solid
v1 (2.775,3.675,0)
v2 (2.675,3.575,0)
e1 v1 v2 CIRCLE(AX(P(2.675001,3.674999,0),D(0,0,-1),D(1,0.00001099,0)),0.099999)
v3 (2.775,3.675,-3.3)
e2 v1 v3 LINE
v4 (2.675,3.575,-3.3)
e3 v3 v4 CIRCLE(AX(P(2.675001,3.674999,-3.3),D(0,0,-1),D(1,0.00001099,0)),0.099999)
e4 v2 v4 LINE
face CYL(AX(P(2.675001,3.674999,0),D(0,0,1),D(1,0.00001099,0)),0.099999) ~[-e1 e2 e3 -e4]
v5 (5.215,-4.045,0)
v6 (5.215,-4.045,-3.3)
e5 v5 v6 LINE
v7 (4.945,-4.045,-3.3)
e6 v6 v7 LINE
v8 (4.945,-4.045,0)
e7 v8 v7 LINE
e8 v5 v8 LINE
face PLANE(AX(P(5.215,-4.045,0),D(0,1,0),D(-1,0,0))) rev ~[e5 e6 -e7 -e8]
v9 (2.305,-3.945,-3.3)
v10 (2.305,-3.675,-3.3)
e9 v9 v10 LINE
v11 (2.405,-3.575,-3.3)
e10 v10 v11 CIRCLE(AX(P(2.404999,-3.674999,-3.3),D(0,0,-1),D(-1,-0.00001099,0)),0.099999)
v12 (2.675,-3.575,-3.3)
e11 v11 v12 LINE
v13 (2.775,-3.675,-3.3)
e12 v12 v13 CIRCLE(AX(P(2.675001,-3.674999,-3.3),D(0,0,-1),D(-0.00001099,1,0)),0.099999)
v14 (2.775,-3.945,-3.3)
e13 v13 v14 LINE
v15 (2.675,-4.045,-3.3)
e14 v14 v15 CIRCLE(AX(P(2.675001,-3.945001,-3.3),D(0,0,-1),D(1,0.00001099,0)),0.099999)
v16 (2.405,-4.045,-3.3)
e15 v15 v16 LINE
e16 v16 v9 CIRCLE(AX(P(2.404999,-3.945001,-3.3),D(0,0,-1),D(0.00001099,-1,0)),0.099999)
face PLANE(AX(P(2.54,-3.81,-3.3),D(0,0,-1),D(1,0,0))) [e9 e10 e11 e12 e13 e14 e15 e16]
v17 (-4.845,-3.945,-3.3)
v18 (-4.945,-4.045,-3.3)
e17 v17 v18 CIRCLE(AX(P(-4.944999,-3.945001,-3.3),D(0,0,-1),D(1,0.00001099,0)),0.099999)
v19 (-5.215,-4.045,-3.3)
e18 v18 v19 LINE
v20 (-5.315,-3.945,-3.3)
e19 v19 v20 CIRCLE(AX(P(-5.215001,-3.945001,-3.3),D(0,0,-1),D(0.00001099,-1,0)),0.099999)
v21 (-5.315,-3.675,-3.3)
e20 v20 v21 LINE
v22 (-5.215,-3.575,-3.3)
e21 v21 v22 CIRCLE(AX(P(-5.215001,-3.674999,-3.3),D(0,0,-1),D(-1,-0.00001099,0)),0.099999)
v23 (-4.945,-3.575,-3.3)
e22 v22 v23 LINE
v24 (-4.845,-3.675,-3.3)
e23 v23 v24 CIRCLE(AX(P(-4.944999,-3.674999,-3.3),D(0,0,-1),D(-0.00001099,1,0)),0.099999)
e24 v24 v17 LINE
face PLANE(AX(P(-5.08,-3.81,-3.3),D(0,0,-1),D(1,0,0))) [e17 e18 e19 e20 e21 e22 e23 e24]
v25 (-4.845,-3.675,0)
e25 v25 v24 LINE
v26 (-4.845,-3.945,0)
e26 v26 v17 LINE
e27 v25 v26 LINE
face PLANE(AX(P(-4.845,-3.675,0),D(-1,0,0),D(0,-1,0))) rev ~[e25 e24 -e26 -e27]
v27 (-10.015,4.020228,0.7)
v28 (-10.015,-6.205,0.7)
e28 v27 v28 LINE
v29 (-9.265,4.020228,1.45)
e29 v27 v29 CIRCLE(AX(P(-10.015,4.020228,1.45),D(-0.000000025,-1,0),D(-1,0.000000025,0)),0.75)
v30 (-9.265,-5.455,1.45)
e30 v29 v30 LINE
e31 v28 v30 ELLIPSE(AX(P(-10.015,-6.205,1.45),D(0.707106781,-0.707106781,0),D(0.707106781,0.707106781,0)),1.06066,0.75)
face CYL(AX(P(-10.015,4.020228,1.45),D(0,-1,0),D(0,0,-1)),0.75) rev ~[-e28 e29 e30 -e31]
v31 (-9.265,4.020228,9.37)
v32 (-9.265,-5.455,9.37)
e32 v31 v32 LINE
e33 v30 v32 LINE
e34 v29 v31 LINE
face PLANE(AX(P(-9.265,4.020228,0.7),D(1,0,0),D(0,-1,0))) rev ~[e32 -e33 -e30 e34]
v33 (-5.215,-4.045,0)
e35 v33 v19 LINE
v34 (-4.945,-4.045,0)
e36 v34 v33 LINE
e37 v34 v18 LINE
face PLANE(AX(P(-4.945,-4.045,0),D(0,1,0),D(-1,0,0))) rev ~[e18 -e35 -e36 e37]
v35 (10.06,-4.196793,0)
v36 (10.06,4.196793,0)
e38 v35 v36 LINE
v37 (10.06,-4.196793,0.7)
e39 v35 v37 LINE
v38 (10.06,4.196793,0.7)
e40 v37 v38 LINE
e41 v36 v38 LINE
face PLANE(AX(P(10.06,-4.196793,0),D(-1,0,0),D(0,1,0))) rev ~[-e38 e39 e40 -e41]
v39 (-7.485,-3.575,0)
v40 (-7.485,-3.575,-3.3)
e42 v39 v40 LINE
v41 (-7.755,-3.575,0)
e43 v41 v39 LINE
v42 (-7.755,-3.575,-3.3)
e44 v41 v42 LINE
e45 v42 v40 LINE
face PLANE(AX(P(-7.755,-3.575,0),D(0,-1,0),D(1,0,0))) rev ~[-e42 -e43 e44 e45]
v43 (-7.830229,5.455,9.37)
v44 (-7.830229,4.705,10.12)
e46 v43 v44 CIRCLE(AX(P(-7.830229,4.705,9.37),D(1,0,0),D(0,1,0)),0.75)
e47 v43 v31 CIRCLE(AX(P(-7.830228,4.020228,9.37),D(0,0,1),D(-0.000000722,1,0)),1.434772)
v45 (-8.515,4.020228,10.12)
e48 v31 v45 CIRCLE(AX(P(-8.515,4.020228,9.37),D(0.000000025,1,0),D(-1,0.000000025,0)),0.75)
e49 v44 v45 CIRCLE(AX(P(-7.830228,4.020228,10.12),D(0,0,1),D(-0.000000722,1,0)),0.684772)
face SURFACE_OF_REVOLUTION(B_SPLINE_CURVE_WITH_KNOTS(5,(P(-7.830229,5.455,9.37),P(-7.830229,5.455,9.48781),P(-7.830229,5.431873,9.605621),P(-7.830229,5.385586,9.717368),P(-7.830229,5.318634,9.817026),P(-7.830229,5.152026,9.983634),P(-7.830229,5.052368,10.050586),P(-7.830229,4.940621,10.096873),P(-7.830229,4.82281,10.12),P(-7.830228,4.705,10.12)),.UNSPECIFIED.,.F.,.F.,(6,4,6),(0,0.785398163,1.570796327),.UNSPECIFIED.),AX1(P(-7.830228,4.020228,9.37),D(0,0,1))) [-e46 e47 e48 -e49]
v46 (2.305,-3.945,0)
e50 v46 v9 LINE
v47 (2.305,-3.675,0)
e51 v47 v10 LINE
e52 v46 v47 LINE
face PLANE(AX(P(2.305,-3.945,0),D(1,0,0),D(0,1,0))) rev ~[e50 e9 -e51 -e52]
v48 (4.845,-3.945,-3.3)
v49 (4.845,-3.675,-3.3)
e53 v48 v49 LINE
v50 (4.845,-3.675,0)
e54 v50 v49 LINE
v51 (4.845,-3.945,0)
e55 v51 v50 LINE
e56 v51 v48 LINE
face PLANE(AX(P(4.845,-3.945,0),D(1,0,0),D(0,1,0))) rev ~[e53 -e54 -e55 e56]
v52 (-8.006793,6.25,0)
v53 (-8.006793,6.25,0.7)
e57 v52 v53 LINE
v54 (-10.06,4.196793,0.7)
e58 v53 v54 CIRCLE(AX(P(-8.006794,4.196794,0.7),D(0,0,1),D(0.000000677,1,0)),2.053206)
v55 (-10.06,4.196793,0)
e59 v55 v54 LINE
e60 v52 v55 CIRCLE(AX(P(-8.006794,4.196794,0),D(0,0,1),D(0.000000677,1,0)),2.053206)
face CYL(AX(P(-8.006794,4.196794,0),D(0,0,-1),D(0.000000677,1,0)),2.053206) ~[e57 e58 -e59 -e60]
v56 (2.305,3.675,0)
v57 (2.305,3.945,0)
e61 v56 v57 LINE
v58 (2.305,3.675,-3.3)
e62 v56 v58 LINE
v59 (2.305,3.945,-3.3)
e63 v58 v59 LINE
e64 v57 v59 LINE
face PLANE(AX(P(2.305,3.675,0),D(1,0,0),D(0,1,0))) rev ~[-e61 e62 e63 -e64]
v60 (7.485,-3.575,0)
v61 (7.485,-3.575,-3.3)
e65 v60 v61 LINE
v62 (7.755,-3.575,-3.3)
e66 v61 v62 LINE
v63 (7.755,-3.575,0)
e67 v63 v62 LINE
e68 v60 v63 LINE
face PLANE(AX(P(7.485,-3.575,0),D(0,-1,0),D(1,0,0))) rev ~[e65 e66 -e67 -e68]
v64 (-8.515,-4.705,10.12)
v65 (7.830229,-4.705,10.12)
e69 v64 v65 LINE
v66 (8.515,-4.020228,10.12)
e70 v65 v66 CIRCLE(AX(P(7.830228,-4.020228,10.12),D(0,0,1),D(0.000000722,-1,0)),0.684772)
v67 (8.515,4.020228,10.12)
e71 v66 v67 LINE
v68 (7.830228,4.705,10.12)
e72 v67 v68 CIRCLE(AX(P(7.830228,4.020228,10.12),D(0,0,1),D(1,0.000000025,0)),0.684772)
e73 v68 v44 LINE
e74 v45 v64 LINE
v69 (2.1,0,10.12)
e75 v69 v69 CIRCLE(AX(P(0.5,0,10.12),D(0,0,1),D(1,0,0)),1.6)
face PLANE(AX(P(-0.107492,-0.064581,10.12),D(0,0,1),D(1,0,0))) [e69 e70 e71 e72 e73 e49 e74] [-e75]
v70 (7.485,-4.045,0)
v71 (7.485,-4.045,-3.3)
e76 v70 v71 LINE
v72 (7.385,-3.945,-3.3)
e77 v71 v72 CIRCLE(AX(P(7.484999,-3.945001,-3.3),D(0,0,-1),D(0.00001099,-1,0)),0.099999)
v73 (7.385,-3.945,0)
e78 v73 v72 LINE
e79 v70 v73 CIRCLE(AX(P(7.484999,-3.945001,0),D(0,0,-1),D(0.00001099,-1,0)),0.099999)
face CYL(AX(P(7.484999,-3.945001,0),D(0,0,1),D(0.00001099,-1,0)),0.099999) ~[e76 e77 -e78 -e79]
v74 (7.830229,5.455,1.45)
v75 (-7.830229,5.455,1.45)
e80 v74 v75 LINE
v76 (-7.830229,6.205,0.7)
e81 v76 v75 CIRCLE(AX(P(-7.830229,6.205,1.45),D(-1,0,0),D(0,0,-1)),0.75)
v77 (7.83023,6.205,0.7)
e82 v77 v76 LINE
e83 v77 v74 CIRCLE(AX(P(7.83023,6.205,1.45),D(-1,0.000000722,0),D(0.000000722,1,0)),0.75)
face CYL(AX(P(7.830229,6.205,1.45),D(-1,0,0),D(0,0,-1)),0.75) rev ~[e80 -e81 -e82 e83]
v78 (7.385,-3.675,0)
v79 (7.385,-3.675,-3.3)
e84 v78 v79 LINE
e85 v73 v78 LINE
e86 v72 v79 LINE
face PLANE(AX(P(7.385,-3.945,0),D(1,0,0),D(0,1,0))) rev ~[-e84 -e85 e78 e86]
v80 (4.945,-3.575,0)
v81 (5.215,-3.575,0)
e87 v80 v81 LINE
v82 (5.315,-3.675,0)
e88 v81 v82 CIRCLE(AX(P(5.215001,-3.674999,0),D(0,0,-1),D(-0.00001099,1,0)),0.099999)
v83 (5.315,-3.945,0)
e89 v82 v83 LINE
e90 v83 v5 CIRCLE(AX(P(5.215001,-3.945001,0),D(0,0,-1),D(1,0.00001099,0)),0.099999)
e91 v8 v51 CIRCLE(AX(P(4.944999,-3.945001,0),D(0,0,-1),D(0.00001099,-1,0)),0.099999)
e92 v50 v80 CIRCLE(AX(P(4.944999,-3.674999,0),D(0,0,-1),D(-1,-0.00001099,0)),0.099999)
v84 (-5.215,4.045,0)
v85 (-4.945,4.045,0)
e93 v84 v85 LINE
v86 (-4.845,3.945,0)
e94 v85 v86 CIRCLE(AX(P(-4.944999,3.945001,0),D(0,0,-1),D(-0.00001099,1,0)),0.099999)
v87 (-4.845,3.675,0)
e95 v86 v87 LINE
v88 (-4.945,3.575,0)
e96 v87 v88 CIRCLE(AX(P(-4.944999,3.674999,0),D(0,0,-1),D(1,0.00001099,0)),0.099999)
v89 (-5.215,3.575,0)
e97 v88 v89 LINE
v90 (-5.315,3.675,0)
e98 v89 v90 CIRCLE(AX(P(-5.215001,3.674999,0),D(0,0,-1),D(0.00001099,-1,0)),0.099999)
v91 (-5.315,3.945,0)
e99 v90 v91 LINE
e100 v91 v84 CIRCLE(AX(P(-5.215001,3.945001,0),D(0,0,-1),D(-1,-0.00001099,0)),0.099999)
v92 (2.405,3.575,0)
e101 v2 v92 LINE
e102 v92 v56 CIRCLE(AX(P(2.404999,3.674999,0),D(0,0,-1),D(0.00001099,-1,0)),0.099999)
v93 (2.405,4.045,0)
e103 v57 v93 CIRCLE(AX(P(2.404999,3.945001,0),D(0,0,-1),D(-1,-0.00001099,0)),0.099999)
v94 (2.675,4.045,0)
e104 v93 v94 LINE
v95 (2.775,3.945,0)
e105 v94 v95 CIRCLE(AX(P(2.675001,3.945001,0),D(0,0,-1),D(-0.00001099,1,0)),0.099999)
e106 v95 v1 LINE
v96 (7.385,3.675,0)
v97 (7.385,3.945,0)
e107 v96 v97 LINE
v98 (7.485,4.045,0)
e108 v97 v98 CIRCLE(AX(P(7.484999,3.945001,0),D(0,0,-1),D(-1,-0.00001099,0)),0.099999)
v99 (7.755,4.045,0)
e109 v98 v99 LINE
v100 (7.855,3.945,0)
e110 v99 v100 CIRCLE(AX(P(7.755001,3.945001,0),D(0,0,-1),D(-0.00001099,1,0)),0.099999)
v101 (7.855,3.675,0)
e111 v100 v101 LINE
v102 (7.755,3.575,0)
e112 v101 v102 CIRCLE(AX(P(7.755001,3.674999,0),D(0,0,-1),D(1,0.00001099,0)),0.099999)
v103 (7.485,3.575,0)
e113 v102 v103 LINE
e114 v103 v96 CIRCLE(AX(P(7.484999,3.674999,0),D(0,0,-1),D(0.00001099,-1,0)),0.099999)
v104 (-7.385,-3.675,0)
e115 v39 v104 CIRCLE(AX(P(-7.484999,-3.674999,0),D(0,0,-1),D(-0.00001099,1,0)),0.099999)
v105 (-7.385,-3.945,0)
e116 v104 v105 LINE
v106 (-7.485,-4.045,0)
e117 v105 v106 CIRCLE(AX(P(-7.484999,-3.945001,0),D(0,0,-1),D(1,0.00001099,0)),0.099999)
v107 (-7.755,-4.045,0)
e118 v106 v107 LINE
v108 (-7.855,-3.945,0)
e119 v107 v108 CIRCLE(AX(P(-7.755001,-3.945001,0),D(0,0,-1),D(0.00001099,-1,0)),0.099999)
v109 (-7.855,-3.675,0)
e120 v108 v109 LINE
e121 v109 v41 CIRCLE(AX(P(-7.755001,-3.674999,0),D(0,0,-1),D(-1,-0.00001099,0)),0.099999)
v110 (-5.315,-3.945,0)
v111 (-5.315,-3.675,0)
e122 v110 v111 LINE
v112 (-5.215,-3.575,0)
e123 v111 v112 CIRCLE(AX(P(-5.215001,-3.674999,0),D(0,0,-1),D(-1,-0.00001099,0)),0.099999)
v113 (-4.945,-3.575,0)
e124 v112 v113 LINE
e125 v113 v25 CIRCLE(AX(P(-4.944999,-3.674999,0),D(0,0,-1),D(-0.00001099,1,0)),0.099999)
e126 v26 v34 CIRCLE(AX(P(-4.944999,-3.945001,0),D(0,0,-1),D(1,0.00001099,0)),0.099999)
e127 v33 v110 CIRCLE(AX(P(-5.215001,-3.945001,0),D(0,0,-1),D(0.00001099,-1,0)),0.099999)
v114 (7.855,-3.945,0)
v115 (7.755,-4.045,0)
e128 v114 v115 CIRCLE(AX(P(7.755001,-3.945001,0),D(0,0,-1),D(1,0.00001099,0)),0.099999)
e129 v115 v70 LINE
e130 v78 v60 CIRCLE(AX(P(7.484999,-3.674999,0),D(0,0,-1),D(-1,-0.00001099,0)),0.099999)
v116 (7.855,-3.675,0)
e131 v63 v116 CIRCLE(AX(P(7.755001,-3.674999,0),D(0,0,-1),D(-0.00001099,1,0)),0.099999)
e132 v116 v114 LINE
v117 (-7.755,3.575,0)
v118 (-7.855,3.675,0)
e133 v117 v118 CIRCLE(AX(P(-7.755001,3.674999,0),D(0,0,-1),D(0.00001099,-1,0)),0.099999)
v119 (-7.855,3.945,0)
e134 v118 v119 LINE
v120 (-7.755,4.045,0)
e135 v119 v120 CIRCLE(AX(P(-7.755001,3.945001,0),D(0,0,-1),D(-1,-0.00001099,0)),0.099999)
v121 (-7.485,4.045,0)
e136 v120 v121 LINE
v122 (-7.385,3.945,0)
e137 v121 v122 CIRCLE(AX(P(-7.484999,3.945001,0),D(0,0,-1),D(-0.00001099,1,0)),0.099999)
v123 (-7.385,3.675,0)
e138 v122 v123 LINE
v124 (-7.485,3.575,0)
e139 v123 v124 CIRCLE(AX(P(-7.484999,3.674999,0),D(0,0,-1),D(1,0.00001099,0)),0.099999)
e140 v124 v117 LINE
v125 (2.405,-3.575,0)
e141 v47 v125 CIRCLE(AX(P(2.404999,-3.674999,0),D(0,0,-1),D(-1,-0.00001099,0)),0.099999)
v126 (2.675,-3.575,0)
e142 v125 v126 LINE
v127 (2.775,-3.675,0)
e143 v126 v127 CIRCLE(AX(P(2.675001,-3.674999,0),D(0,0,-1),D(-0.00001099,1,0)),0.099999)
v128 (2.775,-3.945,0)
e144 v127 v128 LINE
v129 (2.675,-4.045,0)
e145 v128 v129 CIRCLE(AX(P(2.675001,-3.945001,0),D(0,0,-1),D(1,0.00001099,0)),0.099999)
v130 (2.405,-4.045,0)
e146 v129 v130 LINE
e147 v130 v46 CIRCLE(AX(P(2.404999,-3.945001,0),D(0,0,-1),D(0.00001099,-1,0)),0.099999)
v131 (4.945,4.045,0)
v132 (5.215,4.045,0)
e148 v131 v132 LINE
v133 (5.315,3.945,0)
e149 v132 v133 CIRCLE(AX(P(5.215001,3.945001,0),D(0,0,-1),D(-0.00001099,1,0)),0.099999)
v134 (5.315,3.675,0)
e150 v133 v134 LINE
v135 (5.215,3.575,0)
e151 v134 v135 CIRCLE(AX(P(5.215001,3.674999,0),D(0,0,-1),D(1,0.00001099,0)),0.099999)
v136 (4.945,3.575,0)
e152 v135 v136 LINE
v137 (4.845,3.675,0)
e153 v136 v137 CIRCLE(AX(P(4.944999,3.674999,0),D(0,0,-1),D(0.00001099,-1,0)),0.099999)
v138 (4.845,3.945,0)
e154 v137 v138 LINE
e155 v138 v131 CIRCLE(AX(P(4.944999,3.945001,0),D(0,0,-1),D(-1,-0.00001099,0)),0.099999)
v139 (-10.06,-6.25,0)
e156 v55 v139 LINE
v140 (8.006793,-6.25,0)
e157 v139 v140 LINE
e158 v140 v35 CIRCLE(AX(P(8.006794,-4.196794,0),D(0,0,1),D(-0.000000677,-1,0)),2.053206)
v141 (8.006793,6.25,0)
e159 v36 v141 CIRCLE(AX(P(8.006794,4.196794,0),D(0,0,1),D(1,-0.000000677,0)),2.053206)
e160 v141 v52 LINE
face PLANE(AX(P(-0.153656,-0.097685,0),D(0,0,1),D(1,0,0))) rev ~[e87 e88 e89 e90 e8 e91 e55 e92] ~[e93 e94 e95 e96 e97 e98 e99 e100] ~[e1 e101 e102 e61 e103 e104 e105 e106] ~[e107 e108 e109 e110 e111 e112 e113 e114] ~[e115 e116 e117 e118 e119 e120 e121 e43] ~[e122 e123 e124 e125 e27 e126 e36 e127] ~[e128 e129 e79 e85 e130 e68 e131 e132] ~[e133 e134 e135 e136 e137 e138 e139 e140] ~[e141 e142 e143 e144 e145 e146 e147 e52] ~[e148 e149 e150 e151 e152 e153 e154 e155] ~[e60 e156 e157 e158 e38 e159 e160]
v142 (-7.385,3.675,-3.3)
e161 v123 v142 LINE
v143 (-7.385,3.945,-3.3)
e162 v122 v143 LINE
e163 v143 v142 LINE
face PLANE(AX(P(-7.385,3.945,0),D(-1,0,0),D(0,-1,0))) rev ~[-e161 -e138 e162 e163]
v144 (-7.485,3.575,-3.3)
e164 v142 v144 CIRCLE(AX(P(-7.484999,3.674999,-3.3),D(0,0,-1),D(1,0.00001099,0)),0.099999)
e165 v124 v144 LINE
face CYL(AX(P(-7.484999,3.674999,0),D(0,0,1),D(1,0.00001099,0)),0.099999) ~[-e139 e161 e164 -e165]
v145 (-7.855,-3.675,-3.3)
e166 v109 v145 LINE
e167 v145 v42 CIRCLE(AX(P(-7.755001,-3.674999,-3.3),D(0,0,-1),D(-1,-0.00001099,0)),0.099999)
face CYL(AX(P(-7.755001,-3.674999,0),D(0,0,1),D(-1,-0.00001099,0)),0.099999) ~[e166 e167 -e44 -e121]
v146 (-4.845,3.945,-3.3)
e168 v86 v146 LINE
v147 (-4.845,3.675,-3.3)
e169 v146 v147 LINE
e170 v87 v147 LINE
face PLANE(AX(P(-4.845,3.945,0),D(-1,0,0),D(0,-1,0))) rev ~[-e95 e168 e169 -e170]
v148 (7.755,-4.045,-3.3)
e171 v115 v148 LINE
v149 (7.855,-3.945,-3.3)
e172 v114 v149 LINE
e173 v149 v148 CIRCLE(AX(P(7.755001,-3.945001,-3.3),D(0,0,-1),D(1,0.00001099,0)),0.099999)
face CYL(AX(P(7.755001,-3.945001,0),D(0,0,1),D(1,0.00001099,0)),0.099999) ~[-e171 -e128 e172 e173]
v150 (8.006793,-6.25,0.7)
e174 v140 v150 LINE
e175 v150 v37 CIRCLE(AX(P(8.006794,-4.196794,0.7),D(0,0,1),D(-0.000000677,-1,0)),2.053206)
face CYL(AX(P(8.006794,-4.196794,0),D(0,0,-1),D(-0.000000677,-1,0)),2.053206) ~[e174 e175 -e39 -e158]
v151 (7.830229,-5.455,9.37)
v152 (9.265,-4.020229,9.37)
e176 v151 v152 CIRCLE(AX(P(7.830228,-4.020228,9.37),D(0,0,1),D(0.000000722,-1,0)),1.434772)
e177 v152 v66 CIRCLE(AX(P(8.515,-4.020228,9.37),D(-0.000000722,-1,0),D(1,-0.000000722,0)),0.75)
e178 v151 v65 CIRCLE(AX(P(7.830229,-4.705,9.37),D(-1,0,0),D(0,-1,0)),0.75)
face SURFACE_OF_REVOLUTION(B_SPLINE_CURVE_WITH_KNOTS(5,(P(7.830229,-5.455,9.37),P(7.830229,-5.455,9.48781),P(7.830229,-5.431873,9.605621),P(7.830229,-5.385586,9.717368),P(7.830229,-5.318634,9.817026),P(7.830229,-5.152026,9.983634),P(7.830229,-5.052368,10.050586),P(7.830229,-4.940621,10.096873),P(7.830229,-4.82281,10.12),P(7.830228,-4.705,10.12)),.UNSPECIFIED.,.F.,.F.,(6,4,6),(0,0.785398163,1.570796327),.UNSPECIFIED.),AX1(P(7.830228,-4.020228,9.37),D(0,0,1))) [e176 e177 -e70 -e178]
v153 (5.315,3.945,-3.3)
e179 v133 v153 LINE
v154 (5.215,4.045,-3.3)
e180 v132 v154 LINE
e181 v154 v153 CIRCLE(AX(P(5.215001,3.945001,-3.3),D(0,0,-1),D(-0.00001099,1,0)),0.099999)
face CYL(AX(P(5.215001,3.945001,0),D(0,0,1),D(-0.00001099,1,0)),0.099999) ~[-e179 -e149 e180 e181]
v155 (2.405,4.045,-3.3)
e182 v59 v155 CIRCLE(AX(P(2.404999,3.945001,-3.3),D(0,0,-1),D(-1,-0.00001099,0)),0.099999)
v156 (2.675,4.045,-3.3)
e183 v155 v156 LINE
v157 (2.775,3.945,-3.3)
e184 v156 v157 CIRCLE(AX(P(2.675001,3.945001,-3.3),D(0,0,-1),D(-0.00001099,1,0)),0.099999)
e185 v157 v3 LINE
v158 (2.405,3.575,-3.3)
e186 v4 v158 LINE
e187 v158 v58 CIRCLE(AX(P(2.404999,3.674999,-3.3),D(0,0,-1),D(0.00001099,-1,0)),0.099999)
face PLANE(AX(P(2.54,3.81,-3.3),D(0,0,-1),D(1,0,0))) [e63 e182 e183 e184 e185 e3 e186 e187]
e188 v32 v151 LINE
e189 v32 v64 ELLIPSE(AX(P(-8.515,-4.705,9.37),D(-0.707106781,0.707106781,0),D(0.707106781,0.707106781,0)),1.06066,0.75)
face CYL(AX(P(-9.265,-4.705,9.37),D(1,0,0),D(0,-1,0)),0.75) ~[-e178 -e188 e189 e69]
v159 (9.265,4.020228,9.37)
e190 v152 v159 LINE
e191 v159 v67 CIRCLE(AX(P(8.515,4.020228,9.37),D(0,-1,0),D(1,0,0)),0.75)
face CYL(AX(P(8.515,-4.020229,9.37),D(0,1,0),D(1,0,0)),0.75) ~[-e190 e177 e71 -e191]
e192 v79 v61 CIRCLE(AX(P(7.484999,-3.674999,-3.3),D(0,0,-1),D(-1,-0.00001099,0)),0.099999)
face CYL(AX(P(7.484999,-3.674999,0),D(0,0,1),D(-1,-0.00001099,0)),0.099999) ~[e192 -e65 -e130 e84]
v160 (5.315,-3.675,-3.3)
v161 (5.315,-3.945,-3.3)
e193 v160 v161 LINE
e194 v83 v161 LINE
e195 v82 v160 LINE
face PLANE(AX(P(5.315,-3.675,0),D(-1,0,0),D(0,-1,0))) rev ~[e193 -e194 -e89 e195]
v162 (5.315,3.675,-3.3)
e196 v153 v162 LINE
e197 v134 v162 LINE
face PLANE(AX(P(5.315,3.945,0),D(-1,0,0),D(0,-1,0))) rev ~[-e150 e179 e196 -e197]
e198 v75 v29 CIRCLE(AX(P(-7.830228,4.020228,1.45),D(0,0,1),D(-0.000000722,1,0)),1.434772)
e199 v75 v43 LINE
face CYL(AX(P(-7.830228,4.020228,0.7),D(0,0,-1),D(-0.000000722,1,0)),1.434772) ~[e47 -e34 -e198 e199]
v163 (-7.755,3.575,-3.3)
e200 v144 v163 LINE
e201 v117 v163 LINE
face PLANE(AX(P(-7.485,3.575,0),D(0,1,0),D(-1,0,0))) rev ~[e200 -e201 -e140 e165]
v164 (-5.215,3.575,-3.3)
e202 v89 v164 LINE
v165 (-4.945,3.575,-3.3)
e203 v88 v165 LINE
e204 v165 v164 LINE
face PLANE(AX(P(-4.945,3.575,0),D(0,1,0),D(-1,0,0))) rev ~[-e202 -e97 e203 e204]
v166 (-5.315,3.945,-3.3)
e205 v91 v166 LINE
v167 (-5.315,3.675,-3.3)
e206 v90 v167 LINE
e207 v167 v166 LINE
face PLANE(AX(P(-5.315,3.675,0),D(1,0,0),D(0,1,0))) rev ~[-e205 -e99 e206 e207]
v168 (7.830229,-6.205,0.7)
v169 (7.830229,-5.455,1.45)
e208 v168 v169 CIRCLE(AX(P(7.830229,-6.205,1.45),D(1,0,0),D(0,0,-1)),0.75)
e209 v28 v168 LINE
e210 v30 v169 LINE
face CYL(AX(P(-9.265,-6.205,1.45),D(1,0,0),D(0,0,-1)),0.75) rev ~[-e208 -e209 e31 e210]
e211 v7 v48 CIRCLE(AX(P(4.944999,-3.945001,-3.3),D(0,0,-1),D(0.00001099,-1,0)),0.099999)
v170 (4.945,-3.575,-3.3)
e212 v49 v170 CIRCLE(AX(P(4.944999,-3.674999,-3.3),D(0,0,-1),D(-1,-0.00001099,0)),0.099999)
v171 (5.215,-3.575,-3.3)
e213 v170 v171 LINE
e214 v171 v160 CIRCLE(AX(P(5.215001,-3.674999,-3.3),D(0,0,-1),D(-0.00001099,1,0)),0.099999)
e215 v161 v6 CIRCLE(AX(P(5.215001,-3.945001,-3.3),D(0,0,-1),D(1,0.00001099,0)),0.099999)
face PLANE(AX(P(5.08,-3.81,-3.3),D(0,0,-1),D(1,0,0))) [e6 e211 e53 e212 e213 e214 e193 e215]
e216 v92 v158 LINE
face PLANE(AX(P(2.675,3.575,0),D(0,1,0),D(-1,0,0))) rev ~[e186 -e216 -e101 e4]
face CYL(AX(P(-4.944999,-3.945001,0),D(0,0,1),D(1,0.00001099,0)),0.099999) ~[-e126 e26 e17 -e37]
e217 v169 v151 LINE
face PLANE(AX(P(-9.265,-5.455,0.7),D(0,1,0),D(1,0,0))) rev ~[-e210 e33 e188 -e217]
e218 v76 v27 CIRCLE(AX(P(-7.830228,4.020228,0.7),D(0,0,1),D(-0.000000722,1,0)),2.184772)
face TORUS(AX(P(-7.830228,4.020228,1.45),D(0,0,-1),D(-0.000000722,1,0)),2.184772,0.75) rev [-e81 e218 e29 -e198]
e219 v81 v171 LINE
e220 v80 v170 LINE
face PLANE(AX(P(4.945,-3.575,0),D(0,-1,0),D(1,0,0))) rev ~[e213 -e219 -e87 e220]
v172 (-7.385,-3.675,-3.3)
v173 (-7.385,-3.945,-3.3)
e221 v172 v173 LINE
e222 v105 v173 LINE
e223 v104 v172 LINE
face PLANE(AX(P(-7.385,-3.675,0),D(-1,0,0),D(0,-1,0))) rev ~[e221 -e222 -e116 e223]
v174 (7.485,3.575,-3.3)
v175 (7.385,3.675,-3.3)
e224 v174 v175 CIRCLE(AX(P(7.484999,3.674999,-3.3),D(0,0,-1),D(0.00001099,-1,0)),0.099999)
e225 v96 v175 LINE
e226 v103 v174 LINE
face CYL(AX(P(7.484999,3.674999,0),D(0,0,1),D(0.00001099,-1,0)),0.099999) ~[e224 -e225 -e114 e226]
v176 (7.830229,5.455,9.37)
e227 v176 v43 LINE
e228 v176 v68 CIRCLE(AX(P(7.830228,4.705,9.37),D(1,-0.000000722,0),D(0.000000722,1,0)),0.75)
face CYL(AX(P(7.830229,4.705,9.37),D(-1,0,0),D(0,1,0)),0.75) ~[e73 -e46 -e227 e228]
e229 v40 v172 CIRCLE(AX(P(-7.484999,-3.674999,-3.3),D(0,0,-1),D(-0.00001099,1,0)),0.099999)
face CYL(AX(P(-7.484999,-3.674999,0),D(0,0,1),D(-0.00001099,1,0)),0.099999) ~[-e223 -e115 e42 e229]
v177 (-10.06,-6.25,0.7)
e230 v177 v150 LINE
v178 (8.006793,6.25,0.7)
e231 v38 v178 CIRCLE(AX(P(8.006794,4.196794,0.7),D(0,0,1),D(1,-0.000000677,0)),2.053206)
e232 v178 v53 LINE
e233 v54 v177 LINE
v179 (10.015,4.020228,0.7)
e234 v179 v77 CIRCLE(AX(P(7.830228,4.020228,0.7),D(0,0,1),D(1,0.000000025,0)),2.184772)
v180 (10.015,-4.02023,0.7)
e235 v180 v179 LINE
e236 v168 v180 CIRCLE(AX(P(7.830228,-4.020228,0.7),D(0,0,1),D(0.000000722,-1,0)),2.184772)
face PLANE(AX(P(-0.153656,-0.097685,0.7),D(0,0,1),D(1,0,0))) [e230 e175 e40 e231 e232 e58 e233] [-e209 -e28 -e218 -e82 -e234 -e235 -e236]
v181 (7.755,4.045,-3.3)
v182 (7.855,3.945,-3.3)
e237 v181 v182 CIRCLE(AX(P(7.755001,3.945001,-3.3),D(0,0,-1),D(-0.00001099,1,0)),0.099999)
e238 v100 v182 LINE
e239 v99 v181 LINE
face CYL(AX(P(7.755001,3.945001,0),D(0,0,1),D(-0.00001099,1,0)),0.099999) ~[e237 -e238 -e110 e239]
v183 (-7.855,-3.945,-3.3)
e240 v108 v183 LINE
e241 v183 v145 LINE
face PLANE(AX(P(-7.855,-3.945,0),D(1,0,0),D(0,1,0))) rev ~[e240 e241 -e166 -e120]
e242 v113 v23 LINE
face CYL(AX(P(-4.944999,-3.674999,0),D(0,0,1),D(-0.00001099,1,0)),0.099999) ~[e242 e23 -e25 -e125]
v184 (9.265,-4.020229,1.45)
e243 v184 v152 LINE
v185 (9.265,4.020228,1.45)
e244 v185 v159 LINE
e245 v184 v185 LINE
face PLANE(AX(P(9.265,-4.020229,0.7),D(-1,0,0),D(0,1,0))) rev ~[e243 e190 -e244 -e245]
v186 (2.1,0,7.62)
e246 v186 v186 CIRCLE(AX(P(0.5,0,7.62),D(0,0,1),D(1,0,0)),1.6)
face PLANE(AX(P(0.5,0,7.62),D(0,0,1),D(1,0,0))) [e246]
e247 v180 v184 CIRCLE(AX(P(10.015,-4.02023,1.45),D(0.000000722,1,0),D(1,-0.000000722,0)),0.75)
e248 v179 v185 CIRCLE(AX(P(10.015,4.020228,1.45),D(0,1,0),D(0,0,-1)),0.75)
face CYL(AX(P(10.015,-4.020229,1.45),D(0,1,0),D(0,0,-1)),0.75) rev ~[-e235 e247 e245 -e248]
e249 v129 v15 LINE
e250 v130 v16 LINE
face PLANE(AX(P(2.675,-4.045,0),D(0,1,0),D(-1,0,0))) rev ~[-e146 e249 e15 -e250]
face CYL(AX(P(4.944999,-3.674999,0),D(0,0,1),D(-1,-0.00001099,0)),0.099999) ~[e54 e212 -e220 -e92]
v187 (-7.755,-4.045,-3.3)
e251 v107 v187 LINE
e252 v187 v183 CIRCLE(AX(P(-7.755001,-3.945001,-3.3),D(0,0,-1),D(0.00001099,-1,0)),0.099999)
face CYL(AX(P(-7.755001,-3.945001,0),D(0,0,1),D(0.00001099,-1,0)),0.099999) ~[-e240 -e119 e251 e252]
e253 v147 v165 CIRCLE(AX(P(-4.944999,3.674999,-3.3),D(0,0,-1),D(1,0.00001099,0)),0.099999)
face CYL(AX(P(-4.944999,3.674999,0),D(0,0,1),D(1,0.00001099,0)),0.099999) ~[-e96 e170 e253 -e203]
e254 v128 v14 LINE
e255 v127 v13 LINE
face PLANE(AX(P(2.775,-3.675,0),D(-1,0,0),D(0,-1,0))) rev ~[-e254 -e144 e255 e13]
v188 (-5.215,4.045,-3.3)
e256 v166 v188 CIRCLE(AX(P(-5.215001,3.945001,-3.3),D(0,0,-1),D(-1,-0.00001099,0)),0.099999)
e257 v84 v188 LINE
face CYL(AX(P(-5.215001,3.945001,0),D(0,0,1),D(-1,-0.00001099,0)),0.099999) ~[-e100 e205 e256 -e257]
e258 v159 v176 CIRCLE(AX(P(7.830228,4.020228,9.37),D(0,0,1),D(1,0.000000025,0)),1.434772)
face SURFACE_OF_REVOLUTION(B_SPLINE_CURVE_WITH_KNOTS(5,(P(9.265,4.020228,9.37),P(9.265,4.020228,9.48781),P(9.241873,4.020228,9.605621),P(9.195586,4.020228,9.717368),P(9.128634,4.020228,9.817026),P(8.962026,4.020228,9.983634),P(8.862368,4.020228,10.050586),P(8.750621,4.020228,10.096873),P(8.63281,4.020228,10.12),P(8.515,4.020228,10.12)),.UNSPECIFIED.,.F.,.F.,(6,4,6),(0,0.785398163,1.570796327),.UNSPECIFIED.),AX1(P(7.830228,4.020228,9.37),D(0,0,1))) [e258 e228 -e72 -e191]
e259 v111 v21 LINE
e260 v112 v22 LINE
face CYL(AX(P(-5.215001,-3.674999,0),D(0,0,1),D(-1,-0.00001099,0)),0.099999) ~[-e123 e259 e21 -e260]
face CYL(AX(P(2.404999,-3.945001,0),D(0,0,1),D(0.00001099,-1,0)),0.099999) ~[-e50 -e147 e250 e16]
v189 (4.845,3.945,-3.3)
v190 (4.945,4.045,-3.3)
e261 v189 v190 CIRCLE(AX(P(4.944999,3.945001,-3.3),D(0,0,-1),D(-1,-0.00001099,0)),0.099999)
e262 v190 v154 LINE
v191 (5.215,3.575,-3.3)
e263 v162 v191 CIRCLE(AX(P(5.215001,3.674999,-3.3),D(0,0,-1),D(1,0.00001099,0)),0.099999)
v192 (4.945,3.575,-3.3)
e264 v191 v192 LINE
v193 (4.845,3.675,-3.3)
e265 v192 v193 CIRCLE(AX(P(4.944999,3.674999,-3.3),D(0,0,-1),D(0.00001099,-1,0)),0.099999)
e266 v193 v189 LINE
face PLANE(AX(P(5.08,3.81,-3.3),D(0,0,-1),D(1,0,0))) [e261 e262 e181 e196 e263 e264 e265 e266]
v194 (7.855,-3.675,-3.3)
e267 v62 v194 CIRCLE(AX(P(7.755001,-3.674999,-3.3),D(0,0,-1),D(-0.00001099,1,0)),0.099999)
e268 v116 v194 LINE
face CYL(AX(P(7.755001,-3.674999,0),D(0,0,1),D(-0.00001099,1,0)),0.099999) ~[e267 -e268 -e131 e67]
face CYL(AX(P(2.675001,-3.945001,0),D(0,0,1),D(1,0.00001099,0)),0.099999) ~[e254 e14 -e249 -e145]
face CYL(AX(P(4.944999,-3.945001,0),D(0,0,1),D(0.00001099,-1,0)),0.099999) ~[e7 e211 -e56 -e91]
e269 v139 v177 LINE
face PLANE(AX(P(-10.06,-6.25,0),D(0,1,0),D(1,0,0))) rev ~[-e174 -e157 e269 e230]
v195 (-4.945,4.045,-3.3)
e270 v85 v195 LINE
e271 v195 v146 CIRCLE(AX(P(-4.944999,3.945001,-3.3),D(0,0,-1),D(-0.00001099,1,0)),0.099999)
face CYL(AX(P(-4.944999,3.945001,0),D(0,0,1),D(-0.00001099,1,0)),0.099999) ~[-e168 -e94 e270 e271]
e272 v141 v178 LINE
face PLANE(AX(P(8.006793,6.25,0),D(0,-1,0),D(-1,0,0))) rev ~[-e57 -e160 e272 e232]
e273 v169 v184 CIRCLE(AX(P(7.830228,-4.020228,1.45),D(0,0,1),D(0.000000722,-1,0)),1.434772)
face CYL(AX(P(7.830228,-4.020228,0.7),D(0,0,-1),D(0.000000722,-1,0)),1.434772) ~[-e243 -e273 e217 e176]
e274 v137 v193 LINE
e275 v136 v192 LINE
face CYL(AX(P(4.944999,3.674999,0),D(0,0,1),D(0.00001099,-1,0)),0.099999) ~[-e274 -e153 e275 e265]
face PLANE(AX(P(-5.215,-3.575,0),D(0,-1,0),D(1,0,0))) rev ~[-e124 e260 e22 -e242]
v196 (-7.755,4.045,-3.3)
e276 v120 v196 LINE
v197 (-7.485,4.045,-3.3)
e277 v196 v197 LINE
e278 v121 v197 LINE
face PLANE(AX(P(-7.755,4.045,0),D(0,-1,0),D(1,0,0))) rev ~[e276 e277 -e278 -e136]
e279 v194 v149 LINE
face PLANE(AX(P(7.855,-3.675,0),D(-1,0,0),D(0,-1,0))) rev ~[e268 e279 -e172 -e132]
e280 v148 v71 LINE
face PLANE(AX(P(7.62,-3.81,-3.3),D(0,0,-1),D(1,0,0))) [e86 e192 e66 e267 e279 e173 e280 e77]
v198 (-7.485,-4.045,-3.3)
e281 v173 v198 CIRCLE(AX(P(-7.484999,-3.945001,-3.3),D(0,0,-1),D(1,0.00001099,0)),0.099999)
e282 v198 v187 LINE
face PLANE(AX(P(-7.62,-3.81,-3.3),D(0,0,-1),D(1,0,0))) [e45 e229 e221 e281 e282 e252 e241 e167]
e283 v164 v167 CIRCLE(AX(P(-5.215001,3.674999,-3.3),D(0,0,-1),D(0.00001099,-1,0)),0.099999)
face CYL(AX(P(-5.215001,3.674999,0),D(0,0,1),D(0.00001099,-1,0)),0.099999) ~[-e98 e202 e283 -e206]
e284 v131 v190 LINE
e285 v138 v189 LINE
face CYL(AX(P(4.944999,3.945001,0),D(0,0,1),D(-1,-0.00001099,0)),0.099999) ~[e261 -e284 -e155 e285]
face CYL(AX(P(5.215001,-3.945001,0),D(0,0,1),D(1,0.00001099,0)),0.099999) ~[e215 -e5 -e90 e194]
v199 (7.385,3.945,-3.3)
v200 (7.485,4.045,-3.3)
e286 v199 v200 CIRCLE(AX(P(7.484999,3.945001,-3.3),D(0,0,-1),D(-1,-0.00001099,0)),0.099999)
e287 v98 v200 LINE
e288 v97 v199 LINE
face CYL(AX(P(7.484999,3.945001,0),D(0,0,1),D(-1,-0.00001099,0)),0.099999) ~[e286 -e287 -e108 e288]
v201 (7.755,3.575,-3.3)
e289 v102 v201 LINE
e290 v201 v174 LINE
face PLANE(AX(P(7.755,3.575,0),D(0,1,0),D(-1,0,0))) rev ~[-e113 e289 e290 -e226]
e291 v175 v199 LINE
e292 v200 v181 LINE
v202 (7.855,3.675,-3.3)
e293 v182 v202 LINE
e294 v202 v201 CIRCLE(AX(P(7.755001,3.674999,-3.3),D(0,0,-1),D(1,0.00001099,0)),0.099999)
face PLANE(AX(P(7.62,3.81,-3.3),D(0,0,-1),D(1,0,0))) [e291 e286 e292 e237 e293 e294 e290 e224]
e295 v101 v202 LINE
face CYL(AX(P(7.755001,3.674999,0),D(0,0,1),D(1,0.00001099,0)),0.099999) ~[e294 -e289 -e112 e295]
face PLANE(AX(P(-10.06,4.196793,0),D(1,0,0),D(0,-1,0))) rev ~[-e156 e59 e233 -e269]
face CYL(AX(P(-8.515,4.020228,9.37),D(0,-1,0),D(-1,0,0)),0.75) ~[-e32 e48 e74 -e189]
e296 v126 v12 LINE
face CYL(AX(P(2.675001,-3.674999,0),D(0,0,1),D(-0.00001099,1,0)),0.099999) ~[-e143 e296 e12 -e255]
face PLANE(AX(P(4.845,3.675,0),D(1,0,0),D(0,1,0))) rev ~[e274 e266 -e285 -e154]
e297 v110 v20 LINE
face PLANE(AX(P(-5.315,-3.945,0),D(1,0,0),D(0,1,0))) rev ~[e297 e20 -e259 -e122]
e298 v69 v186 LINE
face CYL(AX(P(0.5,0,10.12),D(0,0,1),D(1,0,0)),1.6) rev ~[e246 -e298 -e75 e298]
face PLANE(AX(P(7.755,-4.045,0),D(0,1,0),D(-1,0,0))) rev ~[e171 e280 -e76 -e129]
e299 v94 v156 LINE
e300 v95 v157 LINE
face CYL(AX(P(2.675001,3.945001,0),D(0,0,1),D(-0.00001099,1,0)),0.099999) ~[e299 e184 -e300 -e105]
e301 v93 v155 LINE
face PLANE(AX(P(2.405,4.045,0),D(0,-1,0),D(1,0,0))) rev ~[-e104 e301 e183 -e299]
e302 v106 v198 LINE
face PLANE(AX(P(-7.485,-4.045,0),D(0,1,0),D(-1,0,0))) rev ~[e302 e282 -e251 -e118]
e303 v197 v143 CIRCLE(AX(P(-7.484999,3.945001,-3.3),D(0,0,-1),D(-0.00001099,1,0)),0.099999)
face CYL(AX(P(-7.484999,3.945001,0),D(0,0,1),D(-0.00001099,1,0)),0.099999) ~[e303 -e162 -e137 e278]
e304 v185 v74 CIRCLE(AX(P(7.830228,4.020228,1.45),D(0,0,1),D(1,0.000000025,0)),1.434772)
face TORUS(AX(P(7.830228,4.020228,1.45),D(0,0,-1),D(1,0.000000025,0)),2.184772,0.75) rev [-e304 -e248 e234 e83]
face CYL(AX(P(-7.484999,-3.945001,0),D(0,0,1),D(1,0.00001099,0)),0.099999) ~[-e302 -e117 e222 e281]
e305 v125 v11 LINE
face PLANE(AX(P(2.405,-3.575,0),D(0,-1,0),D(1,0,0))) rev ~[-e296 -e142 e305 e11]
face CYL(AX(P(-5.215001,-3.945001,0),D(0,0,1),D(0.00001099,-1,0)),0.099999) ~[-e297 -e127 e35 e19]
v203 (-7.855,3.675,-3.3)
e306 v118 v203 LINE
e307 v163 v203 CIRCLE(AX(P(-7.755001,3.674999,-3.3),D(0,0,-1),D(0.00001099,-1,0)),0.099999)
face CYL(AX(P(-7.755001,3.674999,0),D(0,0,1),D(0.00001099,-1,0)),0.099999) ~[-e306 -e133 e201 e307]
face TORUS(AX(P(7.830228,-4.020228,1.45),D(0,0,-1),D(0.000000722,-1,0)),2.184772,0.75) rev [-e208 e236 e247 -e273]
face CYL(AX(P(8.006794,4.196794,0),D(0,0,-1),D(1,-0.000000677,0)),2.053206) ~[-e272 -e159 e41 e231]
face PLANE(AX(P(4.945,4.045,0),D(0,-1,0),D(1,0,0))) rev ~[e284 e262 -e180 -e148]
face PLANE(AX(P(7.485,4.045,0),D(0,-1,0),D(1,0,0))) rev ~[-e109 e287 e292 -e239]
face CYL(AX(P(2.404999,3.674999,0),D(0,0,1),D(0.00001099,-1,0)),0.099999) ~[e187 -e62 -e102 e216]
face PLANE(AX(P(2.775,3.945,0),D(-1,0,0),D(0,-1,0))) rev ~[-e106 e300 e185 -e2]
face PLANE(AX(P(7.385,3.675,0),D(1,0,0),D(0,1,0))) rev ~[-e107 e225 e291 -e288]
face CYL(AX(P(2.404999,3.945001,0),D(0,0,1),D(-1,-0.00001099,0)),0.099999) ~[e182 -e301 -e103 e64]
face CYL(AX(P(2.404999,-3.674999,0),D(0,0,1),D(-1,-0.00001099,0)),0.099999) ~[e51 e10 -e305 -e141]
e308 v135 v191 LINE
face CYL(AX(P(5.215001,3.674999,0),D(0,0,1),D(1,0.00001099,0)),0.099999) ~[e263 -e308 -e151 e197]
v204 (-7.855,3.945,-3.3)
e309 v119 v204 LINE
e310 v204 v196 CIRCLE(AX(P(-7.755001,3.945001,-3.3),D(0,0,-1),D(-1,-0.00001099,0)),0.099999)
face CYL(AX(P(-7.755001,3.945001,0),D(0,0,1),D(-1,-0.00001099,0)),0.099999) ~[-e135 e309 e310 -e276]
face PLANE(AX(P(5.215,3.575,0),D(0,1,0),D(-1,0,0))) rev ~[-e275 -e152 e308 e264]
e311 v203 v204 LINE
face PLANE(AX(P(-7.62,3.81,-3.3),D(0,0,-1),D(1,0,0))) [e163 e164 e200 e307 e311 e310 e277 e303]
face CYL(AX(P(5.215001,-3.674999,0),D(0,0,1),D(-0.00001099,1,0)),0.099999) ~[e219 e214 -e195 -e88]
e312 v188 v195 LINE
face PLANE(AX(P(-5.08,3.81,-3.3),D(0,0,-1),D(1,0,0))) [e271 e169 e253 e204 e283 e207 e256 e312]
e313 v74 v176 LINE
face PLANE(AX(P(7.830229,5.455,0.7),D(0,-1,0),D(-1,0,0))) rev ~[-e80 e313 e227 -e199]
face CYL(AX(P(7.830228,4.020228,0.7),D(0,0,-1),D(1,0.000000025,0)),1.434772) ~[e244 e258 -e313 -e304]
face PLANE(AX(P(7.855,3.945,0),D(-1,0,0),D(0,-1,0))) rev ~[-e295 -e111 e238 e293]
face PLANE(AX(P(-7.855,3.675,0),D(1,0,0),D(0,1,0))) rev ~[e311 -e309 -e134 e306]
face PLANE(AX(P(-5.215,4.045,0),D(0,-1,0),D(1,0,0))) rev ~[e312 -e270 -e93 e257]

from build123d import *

# Parameters (mm, degrees)
PAD002_DEPTH = 3.3
PAD_DEPTH    = 0.7
PAD001_DEPTH = 9.42
FILLET_R     = 0.75
SKETCH002_R  = 1.6
POCKET_DEPTH = 2.5


with BuildPart() as body001:
    # Sketch003 (on Face1 of ReferencePocket) → Pad002 (new body)
    with BuildSketch(Plane(origin=(0, 0, 0), x_dir=(1, 0, 0), z_dir=(0, 0, -1))):
        with BuildLine():
            Line((-7.755, 3.575), (-7.485, 3.575))
            ThreePointArc((-7.485, 3.575), (-7.414289, 3.604289), (-7.385, 3.675))
            Line((-7.385, 3.675), (-7.385, 3.945))
            ThreePointArc((-7.385, 3.945), (-7.414289, 4.015711), (-7.485, 4.045))
            Line((-7.485, 4.045), (-7.755, 4.045))
            ThreePointArc((-7.755, 4.045), (-7.825711, 4.015711), (-7.855, 3.945))
            Line((-7.855, 3.945), (-7.855, 3.675))
            ThreePointArc((-7.855, 3.675), (-7.825711, 3.604289), (-7.755, 3.575))
        make_face()
    extrude(amount=PAD002_DEPTH)


with BuildPart() as fusion:
    # Clone base: copy of Body001
    add(body001.part)


with BuildPart() as fusion_1:
    # Clone placement: moved
    add(fusion.part.moved(Location((0, 7.62, 0))))

    # Fusion: union Body001
    add(body001.part)


with BuildPart() as fusion001:
    # Clone001 base: copy of Fusion
    add(fusion_1.part)


with BuildPart() as fusion001_1:
    # Clone001 placement: moved
    add(fusion001.part.moved(Location((2.54, 0, 0))))


with BuildPart() as fusion002:
    # Clone002 base: copy of Fusion
    add(fusion_1.part)


with BuildPart() as fusion002_1:
    # Clone002 placement: moved
    add(fusion002.part.moved(Location((10.16, 0, 0))))


with BuildPart() as fusion003:
    # Clone003 base: copy of Fusion
    add(fusion_1.part)


with BuildPart() as fusion003_1:
    # Clone003 placement: moved
    add(fusion003.part.moved(Location((12.7, 0, 0))))


with BuildPart() as fusion004:
    # Clone004 base: copy of Fusion
    add(fusion_1.part)


with BuildPart() as fusion004_1:
    # Clone004 placement: moved
    add(fusion004.part.moved(Location((15.24, 0, 0))))


with BuildPart() as fusion005:
    # Fusion001 base: copy of Fusion
    add(fusion_1.part)

    # Fusion001: union Fusion001, Fusion002, Fusion003, Fusion004
    add(fusion001_1.part)
    add(fusion002_1.part)
    add(fusion003_1.part)
    add(fusion004_1.part)


with BuildPart() as fusion006:
    # Sketch → Pad (new body)
    with BuildSketch(Plane.XY):
        with BuildLine():
            Line((-10.06, -6.25), (8.006793, -6.25))
            ThreePointArc((8.006793, -6.25), (9.45863, -5.64863), (10.06, -4.196793))
            Line((10.06, -4.196793), (10.06, 4.196793))
            ThreePointArc((10.06, 4.196793), (9.45863, 5.64863), (8.006793, 6.25))
            Line((8.006793, 6.25), (-8.006793, 6.25))
            ThreePointArc((-8.006793, 6.25), (-9.45863, 5.64863), (-10.06, 4.196793))
            Line((-10.06, 4.196793), (-10.06, -6.25))
        make_face()
    extrude(amount=PAD_DEPTH)

    # Sketch001 (on Face9 of Pad) → Pad001 (join)
    with BuildSketch(Plane.XY.offset(0.7)):
        with BuildLine():
            Line((-9.265, -5.455), (7.830229, -5.455))
            ThreePointArc((7.830229, -5.455), (8.844765, -5.034765), (9.265, -4.020229))
            Line((9.265, -4.020229), (9.265, 4.020228))
            ThreePointArc((9.265, 4.020228), (8.844765, 5.034765), (7.830229, 5.455))
            Line((7.830229, 5.455), (-7.830229, 5.455))
            ThreePointArc((-7.830229, 5.455), (-8.844765, 5.034765), (-9.265, 4.020228))
            Line((-9.265, 4.020228), (-9.265, -5.455))
        make_face()
    extrude(amount=PAD001_DEPTH)

    # Fillet
    fillet_edges = [fusion006.edges().sort_by_distance(p)[0] for p in [
        (-0.717386, -5.455, 0.7),
        (8.844765, -5.034765, 0.7),
        (9.265, 0, 0.7),
        (8.844765, 5.034765, 0.7),
        (0, 5.455, 0.7),
        (-8.844765, 5.034765, 0.7),
        (-9.265, -0.717386, 0.7),
        (-9.265, -0.717386, 10.12),
        (-8.844765, 5.034765, 10.12),
        (0, 5.455, 10.12),
        (8.844765, 5.034765, 10.12),
        (9.265, 0, 10.12),
        (8.844765, -5.034765, 10.12),
        (-0.717386, -5.455, 10.12),
    ]]
    fillet(fillet_edges, radius=FILLET_R)

    # Sketch002 (on Face31 of Fillet) → Pocket (cut)
    with BuildSketch(Plane.XY.offset(10.12)):
        with Locations((0.5, 0)):
            Circle(SKETCH002_R)
    extrude(amount=-POCKET_DEPTH, mode=Mode.SUBTRACT)

    # Fusion002: union Fusion005
    add(fusion005.part)


solid = fusion006.part
